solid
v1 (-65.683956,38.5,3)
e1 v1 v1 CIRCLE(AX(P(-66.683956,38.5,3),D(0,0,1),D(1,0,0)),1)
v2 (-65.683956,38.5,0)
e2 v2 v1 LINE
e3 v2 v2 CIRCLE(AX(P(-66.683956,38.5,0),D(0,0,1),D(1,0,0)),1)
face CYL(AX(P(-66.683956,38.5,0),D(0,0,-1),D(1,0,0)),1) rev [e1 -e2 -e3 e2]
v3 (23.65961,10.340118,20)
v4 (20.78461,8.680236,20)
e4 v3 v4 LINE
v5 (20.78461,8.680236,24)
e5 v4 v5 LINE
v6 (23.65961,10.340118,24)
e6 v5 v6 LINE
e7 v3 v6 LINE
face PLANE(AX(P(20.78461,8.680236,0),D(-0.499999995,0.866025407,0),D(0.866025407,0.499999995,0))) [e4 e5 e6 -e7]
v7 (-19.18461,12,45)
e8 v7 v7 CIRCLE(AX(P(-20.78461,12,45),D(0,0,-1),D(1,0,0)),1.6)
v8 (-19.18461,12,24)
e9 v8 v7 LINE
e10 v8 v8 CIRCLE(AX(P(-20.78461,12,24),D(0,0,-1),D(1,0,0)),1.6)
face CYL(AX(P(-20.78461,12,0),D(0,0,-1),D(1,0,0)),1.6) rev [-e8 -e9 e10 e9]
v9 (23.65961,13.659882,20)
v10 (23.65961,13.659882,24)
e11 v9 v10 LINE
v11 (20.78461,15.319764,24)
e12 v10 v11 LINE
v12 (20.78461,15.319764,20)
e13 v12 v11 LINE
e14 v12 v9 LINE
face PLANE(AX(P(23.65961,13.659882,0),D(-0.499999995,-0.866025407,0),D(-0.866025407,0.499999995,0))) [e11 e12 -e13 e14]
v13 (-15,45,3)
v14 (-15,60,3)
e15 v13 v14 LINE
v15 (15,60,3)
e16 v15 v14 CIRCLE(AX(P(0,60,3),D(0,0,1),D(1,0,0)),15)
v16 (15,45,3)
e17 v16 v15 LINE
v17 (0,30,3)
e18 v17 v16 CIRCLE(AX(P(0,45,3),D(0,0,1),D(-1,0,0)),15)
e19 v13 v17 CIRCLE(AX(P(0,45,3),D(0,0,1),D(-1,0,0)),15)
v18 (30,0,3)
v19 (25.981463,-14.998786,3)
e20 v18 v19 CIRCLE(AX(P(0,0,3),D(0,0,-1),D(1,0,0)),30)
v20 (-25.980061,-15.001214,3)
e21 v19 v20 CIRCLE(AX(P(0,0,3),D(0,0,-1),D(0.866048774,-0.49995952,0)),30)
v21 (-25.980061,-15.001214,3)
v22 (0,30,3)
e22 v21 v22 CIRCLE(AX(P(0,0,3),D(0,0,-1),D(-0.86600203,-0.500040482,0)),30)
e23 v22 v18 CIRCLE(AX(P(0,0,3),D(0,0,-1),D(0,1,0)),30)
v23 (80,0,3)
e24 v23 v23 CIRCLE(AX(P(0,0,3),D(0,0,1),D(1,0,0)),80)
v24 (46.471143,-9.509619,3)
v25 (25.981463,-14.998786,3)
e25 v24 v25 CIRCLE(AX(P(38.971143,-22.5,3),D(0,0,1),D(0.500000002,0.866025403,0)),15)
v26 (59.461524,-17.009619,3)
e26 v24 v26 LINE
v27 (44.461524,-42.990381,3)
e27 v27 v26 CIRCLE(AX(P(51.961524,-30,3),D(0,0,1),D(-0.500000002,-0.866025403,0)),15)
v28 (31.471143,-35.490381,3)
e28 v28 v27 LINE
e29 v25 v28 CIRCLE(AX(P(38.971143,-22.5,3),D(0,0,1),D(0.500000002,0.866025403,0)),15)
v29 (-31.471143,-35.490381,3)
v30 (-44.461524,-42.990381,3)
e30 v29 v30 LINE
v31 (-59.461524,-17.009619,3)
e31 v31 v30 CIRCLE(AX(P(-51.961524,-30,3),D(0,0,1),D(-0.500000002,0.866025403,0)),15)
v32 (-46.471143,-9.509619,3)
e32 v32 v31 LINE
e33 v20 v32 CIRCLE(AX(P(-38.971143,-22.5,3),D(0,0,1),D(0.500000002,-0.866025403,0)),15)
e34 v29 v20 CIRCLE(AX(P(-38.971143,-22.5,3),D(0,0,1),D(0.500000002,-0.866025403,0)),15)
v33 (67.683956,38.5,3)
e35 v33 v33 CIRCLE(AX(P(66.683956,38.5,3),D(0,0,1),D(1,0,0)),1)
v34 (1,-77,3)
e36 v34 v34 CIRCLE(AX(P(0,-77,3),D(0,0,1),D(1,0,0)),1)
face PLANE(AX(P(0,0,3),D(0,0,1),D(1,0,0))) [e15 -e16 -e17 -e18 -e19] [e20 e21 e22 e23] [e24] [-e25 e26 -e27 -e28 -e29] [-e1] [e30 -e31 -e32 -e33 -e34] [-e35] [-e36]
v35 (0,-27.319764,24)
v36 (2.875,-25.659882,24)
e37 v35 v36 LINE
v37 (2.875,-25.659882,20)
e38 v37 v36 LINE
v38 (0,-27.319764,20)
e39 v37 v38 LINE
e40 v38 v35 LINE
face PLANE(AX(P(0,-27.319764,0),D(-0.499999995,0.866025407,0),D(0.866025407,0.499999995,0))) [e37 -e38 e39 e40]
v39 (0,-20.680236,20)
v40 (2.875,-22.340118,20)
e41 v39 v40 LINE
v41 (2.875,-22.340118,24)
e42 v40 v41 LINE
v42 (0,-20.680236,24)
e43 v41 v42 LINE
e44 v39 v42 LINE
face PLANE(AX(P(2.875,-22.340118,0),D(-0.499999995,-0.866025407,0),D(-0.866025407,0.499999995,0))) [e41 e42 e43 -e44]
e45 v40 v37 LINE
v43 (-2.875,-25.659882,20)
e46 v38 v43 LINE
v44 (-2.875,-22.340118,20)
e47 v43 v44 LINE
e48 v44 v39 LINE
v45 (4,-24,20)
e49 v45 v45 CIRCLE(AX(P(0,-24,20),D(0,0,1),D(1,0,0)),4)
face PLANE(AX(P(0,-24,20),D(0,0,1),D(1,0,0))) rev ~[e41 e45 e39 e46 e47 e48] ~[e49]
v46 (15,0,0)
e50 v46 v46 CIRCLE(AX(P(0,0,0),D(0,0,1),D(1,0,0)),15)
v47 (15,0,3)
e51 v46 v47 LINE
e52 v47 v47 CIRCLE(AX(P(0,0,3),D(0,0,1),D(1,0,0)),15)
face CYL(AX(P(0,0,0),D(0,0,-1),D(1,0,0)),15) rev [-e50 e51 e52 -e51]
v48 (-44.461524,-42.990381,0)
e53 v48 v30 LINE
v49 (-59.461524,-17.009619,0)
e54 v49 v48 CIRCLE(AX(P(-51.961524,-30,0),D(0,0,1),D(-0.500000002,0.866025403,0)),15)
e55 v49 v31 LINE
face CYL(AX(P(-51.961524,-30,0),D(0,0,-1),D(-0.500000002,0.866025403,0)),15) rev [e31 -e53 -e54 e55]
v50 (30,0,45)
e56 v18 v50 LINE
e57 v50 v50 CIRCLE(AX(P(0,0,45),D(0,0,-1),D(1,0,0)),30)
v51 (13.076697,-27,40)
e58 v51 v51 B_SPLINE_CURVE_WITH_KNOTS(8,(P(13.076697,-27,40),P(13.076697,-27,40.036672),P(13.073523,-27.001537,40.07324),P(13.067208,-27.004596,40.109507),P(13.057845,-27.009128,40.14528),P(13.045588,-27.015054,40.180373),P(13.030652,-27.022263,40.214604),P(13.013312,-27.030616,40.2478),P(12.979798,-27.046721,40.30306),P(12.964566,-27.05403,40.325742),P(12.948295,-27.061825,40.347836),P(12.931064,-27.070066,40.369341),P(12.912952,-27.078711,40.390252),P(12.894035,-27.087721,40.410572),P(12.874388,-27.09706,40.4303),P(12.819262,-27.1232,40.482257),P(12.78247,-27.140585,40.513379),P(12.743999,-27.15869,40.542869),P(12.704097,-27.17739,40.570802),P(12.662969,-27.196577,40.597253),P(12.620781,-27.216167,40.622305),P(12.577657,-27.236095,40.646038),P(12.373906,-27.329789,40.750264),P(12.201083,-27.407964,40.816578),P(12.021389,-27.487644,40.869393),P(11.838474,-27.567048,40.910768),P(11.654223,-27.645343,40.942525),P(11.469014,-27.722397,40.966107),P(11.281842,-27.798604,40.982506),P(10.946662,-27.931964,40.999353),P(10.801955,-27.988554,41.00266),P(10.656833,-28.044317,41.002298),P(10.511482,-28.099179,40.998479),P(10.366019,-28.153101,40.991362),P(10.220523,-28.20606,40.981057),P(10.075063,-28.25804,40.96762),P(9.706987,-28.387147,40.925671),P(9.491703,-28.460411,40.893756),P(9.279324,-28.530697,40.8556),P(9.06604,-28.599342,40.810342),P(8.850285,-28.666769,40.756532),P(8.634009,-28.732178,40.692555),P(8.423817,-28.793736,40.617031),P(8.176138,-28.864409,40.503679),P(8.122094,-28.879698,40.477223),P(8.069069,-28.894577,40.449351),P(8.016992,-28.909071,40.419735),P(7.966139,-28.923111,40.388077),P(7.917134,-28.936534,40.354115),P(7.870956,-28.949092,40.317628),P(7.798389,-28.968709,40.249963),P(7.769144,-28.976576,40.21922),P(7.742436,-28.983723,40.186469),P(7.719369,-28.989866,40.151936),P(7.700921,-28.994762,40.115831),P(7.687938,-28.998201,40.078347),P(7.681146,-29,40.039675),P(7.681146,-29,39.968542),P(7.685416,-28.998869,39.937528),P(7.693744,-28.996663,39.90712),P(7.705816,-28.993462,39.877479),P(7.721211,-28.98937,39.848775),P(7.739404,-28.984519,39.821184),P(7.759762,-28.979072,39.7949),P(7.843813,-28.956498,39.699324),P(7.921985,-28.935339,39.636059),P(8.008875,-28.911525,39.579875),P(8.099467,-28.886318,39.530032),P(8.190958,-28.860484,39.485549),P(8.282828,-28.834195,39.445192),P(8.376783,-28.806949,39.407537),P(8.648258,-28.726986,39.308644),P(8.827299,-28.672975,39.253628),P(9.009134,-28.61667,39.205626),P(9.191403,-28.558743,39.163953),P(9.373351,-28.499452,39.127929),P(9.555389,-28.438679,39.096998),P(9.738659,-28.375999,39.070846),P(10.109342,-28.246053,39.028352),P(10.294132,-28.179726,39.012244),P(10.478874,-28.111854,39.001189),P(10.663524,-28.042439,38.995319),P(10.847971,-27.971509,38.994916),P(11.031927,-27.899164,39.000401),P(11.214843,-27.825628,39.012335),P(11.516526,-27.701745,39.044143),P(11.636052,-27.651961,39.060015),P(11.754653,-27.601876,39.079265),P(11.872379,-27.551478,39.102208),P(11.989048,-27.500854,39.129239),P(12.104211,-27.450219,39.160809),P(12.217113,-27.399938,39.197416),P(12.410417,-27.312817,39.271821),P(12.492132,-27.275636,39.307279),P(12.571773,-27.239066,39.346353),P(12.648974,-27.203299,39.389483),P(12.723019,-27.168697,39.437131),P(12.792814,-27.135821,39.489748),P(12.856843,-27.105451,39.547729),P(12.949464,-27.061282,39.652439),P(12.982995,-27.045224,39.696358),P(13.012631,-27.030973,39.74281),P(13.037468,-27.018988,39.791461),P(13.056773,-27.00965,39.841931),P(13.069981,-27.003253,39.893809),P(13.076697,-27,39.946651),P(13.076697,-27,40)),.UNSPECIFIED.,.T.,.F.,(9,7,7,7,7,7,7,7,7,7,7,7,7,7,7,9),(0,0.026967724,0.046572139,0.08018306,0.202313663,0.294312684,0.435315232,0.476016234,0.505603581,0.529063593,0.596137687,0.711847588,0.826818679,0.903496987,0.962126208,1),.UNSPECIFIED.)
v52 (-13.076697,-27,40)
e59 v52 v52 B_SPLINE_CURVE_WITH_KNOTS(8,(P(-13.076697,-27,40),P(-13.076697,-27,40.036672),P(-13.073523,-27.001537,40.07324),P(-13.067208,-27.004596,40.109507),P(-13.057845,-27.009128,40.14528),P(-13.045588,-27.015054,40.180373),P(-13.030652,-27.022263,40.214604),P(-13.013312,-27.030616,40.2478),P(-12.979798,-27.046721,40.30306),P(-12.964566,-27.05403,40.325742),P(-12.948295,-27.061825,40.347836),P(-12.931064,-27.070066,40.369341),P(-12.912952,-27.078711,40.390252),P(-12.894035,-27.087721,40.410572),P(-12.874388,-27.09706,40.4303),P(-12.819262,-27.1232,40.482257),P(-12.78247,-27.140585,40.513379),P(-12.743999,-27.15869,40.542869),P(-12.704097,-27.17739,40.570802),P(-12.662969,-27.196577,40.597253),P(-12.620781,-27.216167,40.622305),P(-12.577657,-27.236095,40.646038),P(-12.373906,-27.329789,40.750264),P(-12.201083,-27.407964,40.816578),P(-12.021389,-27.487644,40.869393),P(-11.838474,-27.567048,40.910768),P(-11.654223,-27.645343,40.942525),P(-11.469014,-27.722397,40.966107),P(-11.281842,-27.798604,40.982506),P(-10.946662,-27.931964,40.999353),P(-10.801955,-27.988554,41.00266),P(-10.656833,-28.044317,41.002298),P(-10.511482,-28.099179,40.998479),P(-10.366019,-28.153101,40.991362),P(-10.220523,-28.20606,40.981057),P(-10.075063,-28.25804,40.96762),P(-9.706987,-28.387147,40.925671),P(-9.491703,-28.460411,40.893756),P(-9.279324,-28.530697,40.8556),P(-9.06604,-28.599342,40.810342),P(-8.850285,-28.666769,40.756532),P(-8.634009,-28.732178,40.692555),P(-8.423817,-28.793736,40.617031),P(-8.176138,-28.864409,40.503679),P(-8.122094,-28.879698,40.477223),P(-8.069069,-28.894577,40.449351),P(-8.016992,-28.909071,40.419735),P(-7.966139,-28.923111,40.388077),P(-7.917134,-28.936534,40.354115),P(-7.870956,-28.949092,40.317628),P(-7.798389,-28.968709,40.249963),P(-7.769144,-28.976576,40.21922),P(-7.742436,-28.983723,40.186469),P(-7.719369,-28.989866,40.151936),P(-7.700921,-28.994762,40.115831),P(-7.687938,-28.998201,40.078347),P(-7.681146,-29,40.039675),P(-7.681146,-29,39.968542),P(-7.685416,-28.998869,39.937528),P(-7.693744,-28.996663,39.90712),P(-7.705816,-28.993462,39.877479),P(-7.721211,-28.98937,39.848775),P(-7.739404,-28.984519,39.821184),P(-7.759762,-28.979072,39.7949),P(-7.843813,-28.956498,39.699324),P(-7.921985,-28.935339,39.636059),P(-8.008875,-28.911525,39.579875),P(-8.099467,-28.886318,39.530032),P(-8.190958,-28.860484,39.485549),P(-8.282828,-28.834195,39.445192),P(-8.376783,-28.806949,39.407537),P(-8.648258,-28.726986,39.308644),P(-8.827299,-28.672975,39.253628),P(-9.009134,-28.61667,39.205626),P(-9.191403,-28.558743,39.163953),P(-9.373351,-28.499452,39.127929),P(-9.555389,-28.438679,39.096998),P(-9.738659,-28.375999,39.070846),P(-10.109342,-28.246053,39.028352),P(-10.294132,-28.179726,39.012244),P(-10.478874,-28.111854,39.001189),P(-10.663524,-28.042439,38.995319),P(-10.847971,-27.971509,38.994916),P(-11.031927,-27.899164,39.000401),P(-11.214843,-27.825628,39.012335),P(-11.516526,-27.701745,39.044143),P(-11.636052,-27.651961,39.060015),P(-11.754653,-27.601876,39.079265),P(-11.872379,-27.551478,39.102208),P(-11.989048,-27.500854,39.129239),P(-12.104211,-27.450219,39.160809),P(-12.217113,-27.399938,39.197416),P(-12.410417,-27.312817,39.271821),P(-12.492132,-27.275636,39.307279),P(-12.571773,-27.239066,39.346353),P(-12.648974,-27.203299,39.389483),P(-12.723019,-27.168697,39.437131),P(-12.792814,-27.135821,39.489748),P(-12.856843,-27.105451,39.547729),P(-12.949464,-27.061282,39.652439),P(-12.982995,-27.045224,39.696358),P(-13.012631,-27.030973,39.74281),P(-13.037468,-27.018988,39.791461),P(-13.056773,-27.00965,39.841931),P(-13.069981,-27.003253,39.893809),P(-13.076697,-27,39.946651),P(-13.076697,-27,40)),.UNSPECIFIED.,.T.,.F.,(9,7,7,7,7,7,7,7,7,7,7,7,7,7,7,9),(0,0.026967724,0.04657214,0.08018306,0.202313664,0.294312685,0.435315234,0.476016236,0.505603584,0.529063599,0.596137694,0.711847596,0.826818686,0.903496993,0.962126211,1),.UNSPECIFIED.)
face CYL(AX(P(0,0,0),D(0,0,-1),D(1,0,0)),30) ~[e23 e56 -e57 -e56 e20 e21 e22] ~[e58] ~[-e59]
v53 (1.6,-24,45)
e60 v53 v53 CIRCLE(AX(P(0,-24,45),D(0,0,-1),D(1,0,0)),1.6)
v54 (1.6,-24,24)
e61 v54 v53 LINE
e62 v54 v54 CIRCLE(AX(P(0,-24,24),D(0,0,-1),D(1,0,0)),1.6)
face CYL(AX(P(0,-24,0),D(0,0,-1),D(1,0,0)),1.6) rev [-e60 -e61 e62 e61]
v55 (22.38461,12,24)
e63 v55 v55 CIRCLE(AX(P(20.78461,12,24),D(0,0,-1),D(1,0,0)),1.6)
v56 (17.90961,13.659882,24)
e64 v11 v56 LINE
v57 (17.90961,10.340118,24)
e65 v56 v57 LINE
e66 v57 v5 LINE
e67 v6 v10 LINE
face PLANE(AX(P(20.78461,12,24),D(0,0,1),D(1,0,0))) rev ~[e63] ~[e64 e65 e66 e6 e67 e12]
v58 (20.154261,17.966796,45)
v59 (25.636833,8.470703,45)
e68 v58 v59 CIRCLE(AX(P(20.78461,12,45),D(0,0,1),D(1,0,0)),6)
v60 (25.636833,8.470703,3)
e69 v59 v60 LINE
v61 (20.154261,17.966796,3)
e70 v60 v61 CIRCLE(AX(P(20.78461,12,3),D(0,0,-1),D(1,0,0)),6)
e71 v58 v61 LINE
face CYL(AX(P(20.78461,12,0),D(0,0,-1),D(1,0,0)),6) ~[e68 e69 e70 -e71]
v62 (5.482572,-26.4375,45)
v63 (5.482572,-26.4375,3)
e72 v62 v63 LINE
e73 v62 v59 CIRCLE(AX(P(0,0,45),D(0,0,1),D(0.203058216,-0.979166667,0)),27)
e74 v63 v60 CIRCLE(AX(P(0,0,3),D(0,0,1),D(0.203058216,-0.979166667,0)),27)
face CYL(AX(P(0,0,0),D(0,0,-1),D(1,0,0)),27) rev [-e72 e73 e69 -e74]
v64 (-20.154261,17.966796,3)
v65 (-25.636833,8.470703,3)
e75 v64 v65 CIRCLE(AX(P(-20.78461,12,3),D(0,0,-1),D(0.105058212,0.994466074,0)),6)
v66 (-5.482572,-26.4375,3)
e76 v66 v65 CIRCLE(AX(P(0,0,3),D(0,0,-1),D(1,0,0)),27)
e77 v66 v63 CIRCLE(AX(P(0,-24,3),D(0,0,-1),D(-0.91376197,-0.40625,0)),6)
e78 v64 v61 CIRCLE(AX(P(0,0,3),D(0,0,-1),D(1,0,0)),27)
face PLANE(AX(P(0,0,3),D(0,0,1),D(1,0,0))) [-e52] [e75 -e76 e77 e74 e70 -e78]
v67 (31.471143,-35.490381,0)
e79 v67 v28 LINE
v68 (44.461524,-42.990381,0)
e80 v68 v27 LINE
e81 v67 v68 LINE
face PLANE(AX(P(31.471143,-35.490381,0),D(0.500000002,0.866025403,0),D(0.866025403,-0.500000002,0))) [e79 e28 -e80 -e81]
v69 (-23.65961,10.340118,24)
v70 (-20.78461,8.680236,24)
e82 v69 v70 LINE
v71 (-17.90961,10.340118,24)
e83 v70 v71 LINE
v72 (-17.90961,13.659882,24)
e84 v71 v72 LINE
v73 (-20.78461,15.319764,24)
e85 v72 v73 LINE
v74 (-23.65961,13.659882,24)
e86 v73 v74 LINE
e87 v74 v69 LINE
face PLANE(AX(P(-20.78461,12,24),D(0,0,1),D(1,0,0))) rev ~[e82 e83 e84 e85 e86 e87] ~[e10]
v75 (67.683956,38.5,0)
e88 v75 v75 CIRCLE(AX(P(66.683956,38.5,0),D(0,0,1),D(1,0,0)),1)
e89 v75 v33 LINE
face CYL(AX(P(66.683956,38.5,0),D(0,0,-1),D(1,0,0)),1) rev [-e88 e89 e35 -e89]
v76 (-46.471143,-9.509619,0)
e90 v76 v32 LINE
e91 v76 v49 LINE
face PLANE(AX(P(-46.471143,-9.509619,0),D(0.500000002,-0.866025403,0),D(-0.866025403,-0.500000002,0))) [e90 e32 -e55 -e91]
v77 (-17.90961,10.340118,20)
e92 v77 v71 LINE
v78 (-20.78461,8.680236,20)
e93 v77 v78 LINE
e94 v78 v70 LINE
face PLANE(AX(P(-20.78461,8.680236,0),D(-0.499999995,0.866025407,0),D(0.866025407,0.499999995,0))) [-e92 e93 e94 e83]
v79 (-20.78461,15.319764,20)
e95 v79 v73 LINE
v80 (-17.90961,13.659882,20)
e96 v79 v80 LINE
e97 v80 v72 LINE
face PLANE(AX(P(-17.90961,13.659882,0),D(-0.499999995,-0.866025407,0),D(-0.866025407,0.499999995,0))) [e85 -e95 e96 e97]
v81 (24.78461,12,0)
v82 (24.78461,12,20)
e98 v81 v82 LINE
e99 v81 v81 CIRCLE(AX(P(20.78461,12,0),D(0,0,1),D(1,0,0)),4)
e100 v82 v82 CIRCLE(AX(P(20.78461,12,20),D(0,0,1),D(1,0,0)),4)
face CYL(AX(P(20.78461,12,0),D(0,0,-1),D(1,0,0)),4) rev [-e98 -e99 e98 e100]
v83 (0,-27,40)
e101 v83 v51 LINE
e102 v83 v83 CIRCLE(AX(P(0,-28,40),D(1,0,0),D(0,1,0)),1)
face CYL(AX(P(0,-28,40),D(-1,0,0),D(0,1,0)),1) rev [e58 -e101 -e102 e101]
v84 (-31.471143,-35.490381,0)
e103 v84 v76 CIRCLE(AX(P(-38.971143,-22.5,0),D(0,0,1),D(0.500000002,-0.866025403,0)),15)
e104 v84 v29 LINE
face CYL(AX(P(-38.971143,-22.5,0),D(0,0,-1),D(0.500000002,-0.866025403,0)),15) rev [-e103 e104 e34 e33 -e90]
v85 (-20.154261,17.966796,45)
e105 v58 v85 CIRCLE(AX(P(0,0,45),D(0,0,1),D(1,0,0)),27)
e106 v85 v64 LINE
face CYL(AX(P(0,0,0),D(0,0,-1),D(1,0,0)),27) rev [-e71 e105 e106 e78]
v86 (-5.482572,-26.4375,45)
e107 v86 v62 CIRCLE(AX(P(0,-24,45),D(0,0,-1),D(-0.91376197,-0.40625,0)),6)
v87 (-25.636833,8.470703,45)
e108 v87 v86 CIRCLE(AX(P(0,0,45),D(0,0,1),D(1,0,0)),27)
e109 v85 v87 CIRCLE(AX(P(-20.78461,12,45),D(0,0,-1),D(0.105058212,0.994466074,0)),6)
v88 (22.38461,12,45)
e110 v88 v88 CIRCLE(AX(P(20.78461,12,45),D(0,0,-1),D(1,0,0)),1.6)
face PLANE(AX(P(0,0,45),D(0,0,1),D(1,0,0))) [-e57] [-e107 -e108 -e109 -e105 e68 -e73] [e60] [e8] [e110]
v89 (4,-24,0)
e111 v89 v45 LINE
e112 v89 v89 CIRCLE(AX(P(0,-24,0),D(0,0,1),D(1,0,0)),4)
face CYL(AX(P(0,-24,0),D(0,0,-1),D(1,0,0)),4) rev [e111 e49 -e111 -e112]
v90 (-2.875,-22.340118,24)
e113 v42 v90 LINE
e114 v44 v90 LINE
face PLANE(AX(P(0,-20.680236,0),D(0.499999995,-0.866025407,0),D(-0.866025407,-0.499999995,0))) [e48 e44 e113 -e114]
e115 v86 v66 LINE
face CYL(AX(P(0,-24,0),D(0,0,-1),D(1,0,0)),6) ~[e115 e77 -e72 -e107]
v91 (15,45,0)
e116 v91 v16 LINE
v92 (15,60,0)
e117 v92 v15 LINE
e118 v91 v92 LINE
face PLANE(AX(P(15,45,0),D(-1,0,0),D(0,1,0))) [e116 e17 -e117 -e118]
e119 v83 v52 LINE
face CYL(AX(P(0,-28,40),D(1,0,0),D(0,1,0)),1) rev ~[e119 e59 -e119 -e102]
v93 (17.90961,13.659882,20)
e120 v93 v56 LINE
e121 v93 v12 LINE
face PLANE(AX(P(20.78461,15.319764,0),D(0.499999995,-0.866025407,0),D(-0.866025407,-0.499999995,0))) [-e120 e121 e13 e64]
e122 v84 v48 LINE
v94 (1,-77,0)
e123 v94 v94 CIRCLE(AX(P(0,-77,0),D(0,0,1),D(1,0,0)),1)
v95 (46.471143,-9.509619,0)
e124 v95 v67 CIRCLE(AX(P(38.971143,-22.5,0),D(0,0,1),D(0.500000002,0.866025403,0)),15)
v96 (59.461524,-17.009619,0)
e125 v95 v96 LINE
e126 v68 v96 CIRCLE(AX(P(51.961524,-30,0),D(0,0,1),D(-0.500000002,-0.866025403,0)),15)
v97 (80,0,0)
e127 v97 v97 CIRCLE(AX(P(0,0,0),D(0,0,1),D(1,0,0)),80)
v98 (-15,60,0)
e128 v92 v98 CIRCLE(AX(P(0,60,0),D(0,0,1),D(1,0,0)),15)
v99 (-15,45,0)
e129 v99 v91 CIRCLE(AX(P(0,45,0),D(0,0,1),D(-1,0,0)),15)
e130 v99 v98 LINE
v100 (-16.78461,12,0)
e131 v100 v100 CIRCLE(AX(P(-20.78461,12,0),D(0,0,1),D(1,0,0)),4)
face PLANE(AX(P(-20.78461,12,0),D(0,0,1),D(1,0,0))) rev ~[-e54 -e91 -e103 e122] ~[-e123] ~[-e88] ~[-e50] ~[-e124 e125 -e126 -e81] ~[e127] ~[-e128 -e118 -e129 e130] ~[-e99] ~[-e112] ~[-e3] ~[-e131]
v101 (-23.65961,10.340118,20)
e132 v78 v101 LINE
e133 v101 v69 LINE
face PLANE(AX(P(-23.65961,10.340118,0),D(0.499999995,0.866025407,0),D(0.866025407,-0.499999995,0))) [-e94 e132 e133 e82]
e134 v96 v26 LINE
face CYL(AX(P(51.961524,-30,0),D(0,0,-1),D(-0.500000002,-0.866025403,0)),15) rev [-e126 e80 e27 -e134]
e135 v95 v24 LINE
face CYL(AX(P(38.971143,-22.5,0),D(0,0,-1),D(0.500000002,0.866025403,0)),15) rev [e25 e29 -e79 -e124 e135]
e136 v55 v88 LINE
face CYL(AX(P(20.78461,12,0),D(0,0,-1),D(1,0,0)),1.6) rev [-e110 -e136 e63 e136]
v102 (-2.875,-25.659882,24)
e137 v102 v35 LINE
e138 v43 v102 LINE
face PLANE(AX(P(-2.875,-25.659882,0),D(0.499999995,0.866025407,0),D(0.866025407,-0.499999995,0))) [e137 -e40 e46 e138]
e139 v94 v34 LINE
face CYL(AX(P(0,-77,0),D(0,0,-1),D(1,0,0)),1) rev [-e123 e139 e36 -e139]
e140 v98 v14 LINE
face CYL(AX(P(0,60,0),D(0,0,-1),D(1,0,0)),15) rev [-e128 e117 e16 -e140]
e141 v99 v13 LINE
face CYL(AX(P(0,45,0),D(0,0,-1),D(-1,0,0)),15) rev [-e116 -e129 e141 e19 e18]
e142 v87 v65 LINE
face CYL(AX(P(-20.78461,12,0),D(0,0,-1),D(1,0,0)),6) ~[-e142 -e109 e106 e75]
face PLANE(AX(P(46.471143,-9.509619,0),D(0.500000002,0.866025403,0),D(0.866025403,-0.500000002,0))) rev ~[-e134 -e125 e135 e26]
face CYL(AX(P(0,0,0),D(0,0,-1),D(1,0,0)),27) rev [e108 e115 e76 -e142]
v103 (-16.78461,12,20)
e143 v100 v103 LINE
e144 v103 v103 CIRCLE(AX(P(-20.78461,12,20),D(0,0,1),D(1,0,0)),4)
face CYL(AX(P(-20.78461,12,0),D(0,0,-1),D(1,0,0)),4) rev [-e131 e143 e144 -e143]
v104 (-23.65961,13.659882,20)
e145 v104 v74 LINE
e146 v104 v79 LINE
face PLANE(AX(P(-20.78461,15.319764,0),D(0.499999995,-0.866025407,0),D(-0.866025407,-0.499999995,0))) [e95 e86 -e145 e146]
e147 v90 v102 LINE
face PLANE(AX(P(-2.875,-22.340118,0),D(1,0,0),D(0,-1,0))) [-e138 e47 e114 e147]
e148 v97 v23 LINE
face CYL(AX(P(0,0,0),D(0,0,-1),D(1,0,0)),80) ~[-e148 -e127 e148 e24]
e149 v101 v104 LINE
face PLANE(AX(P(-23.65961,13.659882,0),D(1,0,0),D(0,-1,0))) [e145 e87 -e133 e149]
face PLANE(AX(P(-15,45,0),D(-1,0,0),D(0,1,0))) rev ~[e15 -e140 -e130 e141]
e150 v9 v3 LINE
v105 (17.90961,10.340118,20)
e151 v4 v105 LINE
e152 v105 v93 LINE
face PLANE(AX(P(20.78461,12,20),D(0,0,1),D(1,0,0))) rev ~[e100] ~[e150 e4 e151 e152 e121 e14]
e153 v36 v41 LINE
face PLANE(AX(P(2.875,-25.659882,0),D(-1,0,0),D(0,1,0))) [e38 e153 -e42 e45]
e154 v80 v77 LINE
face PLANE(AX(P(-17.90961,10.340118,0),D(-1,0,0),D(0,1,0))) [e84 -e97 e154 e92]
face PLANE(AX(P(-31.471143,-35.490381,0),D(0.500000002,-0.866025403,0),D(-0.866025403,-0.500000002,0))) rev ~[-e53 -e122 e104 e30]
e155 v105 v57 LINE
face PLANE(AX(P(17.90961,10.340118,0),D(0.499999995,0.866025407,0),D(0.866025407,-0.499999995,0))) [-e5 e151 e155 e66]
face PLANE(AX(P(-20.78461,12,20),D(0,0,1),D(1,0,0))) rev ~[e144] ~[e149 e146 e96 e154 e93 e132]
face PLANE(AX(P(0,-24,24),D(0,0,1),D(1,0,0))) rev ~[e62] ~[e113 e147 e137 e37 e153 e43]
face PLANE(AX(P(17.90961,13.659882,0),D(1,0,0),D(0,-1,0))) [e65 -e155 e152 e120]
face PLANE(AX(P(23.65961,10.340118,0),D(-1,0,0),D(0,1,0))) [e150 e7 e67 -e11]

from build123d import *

# Parameters (mm, degrees)
SKETCH_R             = 80
SKETCH_R_2           = 15
SKETCH_R_3           = 1
PAD_DEPTH            = 3
SKETCH001_R          = 30
SKETCH001_R_2        = 27
PAD001_DEPTH         = 45
SKETCH002_R          = 6
PAD002_DEPTH         = 45
SKETCH004_R          = 1.6
POCKET_DEPTH         = 45.001
SKETCH003_R          = 4
POCKET001_DEPTH      = 20
SKETCH005_R          = 1
POCKET002_DEPTH      = 80.001
POCKET002_DEPTH_BACK = -80.001
POCKET003_DEPTH      = 24


with BuildPart() as part:
    # Sketch → Pad (new body)
    with BuildSketch(Plane.XY):
        Circle(SKETCH_R)
        Circle(SKETCH_R_2, mode=Mode.SUBTRACT)
        with Locations((-66.683956, 38.5)):
            Circle(SKETCH_R_3, mode=Mode.SUBTRACT)
        with Locations((66.683956, 38.5)):
            Circle(SKETCH_R_3, mode=Mode.SUBTRACT)
        with Locations((0, -77)):
            Circle(SKETCH_R_3, mode=Mode.SUBTRACT)
        with BuildLine():
            ThreePointArc((-15, 45), (0, 30), (15, 45))
            Line((15, 45), (15, 60))
            ThreePointArc((15, 60), (0, 75), (-15, 60))
            Line((-15, 45), (-15, 60))
        make_face(mode=Mode.SUBTRACT)
        with BuildLine():
            ThreePointArc((-31.471143, -35.490381), (-25.980762, -15), (-46.471143, -9.509619))
            Line((-46.471143, -9.509619), (-59.461524, -17.009619))
            ThreePointArc((-59.461524, -17.009619), (-64.951905, -37.5), (-44.461524, -42.990381))
            Line((-31.471143, -35.490381), (-44.461524, -42.990381))
        make_face(mode=Mode.SUBTRACT)
        with BuildLine():
            ThreePointArc((46.471143, -9.509619), (25.980762, -15), (31.471143, -35.490381))
            Line((31.471143, -35.490381), (44.461524, -42.990381))
            ThreePointArc((44.461524, -42.990381), (64.951905, -37.5), (59.461524, -17.009619))
            Line((46.471143, -9.509619), (59.461524, -17.009619))
        make_face(mode=Mode.SUBTRACT)
    extrude(amount=PAD_DEPTH)

    # Sketch001 → Pad001 (join)
    with BuildSketch(Plane.XY):
        Circle(SKETCH001_R)
        Circle(SKETCH001_R_2, mode=Mode.SUBTRACT)
    extrude(amount=PAD001_DEPTH)

    # Sketch002 → Pad002 (join)
    with BuildSketch(Plane.XY):
        with Locations((-20.78461, 12)):
            Circle(SKETCH002_R)
        with Locations((0, -24)):
            Circle(SKETCH002_R)
        with Locations((20.78461, 12)):
            Circle(SKETCH002_R)
    extrude(amount=PAD002_DEPTH)

    # Sketch004 → Pocket (cut, through all)
    with BuildSketch(Plane.XY):
        with Locations((-20.78461, 12)):
            Circle(SKETCH004_R)
        with Locations((20.78461, 12)):
            Circle(SKETCH004_R)
        with Locations((0, -24)):
            Circle(SKETCH004_R)
    extrude(amount=POCKET_DEPTH, mode=Mode.SUBTRACT)

    # Sketch003 → Pocket001 (cut)
    with BuildSketch(Plane.XY):
        with Locations((-20.78461, 12)):
            Circle(SKETCH003_R)
        with Locations((20.78461, 12)):
            Circle(SKETCH003_R)
        with Locations((0, -24)):
            Circle(SKETCH003_R)
    extrude(amount=POCKET001_DEPTH, mode=Mode.SUBTRACT)

    # Sketch005 → Pocket002 (cut, two sides)
    with BuildSketch(Plane.YZ) as pocket002_sk:
        with Locations((-28, 40)):
            Circle(SKETCH005_R)
    extrude(amount=-POCKET002_DEPTH, mode=Mode.SUBTRACT)
    extrude(pocket002_sk.sketch, amount=-POCKET002_DEPTH_BACK, mode=Mode.SUBTRACT)

    # Sketch006 → Pocket003 (cut)
    with BuildSketch(Plane.XY):
        Polygon((-17.90961, 10.340118), (-17.90961, 13.659882), (-20.78461, 15.319764), (-23.65961, 13.659882), (-23.65961, 10.340118), (-20.78461, 8.680236), align=None)
        Polygon((20.78461, 8.680236), (23.65961, 10.340118), (23.65961, 13.659882), (20.78461, 15.319764), (17.90961, 13.659882), (17.90961, 10.340118), align=None)
        Polygon((2.875, -25.659882), (2.875, -22.340118), (0, -20.680236), (-2.875, -22.340118), (-2.875, -25.659882), (0, -27.319764), align=None)
    extrude(amount=POCKET003_DEPTH, mode=Mode.SUBTRACT)


solid = part.part
